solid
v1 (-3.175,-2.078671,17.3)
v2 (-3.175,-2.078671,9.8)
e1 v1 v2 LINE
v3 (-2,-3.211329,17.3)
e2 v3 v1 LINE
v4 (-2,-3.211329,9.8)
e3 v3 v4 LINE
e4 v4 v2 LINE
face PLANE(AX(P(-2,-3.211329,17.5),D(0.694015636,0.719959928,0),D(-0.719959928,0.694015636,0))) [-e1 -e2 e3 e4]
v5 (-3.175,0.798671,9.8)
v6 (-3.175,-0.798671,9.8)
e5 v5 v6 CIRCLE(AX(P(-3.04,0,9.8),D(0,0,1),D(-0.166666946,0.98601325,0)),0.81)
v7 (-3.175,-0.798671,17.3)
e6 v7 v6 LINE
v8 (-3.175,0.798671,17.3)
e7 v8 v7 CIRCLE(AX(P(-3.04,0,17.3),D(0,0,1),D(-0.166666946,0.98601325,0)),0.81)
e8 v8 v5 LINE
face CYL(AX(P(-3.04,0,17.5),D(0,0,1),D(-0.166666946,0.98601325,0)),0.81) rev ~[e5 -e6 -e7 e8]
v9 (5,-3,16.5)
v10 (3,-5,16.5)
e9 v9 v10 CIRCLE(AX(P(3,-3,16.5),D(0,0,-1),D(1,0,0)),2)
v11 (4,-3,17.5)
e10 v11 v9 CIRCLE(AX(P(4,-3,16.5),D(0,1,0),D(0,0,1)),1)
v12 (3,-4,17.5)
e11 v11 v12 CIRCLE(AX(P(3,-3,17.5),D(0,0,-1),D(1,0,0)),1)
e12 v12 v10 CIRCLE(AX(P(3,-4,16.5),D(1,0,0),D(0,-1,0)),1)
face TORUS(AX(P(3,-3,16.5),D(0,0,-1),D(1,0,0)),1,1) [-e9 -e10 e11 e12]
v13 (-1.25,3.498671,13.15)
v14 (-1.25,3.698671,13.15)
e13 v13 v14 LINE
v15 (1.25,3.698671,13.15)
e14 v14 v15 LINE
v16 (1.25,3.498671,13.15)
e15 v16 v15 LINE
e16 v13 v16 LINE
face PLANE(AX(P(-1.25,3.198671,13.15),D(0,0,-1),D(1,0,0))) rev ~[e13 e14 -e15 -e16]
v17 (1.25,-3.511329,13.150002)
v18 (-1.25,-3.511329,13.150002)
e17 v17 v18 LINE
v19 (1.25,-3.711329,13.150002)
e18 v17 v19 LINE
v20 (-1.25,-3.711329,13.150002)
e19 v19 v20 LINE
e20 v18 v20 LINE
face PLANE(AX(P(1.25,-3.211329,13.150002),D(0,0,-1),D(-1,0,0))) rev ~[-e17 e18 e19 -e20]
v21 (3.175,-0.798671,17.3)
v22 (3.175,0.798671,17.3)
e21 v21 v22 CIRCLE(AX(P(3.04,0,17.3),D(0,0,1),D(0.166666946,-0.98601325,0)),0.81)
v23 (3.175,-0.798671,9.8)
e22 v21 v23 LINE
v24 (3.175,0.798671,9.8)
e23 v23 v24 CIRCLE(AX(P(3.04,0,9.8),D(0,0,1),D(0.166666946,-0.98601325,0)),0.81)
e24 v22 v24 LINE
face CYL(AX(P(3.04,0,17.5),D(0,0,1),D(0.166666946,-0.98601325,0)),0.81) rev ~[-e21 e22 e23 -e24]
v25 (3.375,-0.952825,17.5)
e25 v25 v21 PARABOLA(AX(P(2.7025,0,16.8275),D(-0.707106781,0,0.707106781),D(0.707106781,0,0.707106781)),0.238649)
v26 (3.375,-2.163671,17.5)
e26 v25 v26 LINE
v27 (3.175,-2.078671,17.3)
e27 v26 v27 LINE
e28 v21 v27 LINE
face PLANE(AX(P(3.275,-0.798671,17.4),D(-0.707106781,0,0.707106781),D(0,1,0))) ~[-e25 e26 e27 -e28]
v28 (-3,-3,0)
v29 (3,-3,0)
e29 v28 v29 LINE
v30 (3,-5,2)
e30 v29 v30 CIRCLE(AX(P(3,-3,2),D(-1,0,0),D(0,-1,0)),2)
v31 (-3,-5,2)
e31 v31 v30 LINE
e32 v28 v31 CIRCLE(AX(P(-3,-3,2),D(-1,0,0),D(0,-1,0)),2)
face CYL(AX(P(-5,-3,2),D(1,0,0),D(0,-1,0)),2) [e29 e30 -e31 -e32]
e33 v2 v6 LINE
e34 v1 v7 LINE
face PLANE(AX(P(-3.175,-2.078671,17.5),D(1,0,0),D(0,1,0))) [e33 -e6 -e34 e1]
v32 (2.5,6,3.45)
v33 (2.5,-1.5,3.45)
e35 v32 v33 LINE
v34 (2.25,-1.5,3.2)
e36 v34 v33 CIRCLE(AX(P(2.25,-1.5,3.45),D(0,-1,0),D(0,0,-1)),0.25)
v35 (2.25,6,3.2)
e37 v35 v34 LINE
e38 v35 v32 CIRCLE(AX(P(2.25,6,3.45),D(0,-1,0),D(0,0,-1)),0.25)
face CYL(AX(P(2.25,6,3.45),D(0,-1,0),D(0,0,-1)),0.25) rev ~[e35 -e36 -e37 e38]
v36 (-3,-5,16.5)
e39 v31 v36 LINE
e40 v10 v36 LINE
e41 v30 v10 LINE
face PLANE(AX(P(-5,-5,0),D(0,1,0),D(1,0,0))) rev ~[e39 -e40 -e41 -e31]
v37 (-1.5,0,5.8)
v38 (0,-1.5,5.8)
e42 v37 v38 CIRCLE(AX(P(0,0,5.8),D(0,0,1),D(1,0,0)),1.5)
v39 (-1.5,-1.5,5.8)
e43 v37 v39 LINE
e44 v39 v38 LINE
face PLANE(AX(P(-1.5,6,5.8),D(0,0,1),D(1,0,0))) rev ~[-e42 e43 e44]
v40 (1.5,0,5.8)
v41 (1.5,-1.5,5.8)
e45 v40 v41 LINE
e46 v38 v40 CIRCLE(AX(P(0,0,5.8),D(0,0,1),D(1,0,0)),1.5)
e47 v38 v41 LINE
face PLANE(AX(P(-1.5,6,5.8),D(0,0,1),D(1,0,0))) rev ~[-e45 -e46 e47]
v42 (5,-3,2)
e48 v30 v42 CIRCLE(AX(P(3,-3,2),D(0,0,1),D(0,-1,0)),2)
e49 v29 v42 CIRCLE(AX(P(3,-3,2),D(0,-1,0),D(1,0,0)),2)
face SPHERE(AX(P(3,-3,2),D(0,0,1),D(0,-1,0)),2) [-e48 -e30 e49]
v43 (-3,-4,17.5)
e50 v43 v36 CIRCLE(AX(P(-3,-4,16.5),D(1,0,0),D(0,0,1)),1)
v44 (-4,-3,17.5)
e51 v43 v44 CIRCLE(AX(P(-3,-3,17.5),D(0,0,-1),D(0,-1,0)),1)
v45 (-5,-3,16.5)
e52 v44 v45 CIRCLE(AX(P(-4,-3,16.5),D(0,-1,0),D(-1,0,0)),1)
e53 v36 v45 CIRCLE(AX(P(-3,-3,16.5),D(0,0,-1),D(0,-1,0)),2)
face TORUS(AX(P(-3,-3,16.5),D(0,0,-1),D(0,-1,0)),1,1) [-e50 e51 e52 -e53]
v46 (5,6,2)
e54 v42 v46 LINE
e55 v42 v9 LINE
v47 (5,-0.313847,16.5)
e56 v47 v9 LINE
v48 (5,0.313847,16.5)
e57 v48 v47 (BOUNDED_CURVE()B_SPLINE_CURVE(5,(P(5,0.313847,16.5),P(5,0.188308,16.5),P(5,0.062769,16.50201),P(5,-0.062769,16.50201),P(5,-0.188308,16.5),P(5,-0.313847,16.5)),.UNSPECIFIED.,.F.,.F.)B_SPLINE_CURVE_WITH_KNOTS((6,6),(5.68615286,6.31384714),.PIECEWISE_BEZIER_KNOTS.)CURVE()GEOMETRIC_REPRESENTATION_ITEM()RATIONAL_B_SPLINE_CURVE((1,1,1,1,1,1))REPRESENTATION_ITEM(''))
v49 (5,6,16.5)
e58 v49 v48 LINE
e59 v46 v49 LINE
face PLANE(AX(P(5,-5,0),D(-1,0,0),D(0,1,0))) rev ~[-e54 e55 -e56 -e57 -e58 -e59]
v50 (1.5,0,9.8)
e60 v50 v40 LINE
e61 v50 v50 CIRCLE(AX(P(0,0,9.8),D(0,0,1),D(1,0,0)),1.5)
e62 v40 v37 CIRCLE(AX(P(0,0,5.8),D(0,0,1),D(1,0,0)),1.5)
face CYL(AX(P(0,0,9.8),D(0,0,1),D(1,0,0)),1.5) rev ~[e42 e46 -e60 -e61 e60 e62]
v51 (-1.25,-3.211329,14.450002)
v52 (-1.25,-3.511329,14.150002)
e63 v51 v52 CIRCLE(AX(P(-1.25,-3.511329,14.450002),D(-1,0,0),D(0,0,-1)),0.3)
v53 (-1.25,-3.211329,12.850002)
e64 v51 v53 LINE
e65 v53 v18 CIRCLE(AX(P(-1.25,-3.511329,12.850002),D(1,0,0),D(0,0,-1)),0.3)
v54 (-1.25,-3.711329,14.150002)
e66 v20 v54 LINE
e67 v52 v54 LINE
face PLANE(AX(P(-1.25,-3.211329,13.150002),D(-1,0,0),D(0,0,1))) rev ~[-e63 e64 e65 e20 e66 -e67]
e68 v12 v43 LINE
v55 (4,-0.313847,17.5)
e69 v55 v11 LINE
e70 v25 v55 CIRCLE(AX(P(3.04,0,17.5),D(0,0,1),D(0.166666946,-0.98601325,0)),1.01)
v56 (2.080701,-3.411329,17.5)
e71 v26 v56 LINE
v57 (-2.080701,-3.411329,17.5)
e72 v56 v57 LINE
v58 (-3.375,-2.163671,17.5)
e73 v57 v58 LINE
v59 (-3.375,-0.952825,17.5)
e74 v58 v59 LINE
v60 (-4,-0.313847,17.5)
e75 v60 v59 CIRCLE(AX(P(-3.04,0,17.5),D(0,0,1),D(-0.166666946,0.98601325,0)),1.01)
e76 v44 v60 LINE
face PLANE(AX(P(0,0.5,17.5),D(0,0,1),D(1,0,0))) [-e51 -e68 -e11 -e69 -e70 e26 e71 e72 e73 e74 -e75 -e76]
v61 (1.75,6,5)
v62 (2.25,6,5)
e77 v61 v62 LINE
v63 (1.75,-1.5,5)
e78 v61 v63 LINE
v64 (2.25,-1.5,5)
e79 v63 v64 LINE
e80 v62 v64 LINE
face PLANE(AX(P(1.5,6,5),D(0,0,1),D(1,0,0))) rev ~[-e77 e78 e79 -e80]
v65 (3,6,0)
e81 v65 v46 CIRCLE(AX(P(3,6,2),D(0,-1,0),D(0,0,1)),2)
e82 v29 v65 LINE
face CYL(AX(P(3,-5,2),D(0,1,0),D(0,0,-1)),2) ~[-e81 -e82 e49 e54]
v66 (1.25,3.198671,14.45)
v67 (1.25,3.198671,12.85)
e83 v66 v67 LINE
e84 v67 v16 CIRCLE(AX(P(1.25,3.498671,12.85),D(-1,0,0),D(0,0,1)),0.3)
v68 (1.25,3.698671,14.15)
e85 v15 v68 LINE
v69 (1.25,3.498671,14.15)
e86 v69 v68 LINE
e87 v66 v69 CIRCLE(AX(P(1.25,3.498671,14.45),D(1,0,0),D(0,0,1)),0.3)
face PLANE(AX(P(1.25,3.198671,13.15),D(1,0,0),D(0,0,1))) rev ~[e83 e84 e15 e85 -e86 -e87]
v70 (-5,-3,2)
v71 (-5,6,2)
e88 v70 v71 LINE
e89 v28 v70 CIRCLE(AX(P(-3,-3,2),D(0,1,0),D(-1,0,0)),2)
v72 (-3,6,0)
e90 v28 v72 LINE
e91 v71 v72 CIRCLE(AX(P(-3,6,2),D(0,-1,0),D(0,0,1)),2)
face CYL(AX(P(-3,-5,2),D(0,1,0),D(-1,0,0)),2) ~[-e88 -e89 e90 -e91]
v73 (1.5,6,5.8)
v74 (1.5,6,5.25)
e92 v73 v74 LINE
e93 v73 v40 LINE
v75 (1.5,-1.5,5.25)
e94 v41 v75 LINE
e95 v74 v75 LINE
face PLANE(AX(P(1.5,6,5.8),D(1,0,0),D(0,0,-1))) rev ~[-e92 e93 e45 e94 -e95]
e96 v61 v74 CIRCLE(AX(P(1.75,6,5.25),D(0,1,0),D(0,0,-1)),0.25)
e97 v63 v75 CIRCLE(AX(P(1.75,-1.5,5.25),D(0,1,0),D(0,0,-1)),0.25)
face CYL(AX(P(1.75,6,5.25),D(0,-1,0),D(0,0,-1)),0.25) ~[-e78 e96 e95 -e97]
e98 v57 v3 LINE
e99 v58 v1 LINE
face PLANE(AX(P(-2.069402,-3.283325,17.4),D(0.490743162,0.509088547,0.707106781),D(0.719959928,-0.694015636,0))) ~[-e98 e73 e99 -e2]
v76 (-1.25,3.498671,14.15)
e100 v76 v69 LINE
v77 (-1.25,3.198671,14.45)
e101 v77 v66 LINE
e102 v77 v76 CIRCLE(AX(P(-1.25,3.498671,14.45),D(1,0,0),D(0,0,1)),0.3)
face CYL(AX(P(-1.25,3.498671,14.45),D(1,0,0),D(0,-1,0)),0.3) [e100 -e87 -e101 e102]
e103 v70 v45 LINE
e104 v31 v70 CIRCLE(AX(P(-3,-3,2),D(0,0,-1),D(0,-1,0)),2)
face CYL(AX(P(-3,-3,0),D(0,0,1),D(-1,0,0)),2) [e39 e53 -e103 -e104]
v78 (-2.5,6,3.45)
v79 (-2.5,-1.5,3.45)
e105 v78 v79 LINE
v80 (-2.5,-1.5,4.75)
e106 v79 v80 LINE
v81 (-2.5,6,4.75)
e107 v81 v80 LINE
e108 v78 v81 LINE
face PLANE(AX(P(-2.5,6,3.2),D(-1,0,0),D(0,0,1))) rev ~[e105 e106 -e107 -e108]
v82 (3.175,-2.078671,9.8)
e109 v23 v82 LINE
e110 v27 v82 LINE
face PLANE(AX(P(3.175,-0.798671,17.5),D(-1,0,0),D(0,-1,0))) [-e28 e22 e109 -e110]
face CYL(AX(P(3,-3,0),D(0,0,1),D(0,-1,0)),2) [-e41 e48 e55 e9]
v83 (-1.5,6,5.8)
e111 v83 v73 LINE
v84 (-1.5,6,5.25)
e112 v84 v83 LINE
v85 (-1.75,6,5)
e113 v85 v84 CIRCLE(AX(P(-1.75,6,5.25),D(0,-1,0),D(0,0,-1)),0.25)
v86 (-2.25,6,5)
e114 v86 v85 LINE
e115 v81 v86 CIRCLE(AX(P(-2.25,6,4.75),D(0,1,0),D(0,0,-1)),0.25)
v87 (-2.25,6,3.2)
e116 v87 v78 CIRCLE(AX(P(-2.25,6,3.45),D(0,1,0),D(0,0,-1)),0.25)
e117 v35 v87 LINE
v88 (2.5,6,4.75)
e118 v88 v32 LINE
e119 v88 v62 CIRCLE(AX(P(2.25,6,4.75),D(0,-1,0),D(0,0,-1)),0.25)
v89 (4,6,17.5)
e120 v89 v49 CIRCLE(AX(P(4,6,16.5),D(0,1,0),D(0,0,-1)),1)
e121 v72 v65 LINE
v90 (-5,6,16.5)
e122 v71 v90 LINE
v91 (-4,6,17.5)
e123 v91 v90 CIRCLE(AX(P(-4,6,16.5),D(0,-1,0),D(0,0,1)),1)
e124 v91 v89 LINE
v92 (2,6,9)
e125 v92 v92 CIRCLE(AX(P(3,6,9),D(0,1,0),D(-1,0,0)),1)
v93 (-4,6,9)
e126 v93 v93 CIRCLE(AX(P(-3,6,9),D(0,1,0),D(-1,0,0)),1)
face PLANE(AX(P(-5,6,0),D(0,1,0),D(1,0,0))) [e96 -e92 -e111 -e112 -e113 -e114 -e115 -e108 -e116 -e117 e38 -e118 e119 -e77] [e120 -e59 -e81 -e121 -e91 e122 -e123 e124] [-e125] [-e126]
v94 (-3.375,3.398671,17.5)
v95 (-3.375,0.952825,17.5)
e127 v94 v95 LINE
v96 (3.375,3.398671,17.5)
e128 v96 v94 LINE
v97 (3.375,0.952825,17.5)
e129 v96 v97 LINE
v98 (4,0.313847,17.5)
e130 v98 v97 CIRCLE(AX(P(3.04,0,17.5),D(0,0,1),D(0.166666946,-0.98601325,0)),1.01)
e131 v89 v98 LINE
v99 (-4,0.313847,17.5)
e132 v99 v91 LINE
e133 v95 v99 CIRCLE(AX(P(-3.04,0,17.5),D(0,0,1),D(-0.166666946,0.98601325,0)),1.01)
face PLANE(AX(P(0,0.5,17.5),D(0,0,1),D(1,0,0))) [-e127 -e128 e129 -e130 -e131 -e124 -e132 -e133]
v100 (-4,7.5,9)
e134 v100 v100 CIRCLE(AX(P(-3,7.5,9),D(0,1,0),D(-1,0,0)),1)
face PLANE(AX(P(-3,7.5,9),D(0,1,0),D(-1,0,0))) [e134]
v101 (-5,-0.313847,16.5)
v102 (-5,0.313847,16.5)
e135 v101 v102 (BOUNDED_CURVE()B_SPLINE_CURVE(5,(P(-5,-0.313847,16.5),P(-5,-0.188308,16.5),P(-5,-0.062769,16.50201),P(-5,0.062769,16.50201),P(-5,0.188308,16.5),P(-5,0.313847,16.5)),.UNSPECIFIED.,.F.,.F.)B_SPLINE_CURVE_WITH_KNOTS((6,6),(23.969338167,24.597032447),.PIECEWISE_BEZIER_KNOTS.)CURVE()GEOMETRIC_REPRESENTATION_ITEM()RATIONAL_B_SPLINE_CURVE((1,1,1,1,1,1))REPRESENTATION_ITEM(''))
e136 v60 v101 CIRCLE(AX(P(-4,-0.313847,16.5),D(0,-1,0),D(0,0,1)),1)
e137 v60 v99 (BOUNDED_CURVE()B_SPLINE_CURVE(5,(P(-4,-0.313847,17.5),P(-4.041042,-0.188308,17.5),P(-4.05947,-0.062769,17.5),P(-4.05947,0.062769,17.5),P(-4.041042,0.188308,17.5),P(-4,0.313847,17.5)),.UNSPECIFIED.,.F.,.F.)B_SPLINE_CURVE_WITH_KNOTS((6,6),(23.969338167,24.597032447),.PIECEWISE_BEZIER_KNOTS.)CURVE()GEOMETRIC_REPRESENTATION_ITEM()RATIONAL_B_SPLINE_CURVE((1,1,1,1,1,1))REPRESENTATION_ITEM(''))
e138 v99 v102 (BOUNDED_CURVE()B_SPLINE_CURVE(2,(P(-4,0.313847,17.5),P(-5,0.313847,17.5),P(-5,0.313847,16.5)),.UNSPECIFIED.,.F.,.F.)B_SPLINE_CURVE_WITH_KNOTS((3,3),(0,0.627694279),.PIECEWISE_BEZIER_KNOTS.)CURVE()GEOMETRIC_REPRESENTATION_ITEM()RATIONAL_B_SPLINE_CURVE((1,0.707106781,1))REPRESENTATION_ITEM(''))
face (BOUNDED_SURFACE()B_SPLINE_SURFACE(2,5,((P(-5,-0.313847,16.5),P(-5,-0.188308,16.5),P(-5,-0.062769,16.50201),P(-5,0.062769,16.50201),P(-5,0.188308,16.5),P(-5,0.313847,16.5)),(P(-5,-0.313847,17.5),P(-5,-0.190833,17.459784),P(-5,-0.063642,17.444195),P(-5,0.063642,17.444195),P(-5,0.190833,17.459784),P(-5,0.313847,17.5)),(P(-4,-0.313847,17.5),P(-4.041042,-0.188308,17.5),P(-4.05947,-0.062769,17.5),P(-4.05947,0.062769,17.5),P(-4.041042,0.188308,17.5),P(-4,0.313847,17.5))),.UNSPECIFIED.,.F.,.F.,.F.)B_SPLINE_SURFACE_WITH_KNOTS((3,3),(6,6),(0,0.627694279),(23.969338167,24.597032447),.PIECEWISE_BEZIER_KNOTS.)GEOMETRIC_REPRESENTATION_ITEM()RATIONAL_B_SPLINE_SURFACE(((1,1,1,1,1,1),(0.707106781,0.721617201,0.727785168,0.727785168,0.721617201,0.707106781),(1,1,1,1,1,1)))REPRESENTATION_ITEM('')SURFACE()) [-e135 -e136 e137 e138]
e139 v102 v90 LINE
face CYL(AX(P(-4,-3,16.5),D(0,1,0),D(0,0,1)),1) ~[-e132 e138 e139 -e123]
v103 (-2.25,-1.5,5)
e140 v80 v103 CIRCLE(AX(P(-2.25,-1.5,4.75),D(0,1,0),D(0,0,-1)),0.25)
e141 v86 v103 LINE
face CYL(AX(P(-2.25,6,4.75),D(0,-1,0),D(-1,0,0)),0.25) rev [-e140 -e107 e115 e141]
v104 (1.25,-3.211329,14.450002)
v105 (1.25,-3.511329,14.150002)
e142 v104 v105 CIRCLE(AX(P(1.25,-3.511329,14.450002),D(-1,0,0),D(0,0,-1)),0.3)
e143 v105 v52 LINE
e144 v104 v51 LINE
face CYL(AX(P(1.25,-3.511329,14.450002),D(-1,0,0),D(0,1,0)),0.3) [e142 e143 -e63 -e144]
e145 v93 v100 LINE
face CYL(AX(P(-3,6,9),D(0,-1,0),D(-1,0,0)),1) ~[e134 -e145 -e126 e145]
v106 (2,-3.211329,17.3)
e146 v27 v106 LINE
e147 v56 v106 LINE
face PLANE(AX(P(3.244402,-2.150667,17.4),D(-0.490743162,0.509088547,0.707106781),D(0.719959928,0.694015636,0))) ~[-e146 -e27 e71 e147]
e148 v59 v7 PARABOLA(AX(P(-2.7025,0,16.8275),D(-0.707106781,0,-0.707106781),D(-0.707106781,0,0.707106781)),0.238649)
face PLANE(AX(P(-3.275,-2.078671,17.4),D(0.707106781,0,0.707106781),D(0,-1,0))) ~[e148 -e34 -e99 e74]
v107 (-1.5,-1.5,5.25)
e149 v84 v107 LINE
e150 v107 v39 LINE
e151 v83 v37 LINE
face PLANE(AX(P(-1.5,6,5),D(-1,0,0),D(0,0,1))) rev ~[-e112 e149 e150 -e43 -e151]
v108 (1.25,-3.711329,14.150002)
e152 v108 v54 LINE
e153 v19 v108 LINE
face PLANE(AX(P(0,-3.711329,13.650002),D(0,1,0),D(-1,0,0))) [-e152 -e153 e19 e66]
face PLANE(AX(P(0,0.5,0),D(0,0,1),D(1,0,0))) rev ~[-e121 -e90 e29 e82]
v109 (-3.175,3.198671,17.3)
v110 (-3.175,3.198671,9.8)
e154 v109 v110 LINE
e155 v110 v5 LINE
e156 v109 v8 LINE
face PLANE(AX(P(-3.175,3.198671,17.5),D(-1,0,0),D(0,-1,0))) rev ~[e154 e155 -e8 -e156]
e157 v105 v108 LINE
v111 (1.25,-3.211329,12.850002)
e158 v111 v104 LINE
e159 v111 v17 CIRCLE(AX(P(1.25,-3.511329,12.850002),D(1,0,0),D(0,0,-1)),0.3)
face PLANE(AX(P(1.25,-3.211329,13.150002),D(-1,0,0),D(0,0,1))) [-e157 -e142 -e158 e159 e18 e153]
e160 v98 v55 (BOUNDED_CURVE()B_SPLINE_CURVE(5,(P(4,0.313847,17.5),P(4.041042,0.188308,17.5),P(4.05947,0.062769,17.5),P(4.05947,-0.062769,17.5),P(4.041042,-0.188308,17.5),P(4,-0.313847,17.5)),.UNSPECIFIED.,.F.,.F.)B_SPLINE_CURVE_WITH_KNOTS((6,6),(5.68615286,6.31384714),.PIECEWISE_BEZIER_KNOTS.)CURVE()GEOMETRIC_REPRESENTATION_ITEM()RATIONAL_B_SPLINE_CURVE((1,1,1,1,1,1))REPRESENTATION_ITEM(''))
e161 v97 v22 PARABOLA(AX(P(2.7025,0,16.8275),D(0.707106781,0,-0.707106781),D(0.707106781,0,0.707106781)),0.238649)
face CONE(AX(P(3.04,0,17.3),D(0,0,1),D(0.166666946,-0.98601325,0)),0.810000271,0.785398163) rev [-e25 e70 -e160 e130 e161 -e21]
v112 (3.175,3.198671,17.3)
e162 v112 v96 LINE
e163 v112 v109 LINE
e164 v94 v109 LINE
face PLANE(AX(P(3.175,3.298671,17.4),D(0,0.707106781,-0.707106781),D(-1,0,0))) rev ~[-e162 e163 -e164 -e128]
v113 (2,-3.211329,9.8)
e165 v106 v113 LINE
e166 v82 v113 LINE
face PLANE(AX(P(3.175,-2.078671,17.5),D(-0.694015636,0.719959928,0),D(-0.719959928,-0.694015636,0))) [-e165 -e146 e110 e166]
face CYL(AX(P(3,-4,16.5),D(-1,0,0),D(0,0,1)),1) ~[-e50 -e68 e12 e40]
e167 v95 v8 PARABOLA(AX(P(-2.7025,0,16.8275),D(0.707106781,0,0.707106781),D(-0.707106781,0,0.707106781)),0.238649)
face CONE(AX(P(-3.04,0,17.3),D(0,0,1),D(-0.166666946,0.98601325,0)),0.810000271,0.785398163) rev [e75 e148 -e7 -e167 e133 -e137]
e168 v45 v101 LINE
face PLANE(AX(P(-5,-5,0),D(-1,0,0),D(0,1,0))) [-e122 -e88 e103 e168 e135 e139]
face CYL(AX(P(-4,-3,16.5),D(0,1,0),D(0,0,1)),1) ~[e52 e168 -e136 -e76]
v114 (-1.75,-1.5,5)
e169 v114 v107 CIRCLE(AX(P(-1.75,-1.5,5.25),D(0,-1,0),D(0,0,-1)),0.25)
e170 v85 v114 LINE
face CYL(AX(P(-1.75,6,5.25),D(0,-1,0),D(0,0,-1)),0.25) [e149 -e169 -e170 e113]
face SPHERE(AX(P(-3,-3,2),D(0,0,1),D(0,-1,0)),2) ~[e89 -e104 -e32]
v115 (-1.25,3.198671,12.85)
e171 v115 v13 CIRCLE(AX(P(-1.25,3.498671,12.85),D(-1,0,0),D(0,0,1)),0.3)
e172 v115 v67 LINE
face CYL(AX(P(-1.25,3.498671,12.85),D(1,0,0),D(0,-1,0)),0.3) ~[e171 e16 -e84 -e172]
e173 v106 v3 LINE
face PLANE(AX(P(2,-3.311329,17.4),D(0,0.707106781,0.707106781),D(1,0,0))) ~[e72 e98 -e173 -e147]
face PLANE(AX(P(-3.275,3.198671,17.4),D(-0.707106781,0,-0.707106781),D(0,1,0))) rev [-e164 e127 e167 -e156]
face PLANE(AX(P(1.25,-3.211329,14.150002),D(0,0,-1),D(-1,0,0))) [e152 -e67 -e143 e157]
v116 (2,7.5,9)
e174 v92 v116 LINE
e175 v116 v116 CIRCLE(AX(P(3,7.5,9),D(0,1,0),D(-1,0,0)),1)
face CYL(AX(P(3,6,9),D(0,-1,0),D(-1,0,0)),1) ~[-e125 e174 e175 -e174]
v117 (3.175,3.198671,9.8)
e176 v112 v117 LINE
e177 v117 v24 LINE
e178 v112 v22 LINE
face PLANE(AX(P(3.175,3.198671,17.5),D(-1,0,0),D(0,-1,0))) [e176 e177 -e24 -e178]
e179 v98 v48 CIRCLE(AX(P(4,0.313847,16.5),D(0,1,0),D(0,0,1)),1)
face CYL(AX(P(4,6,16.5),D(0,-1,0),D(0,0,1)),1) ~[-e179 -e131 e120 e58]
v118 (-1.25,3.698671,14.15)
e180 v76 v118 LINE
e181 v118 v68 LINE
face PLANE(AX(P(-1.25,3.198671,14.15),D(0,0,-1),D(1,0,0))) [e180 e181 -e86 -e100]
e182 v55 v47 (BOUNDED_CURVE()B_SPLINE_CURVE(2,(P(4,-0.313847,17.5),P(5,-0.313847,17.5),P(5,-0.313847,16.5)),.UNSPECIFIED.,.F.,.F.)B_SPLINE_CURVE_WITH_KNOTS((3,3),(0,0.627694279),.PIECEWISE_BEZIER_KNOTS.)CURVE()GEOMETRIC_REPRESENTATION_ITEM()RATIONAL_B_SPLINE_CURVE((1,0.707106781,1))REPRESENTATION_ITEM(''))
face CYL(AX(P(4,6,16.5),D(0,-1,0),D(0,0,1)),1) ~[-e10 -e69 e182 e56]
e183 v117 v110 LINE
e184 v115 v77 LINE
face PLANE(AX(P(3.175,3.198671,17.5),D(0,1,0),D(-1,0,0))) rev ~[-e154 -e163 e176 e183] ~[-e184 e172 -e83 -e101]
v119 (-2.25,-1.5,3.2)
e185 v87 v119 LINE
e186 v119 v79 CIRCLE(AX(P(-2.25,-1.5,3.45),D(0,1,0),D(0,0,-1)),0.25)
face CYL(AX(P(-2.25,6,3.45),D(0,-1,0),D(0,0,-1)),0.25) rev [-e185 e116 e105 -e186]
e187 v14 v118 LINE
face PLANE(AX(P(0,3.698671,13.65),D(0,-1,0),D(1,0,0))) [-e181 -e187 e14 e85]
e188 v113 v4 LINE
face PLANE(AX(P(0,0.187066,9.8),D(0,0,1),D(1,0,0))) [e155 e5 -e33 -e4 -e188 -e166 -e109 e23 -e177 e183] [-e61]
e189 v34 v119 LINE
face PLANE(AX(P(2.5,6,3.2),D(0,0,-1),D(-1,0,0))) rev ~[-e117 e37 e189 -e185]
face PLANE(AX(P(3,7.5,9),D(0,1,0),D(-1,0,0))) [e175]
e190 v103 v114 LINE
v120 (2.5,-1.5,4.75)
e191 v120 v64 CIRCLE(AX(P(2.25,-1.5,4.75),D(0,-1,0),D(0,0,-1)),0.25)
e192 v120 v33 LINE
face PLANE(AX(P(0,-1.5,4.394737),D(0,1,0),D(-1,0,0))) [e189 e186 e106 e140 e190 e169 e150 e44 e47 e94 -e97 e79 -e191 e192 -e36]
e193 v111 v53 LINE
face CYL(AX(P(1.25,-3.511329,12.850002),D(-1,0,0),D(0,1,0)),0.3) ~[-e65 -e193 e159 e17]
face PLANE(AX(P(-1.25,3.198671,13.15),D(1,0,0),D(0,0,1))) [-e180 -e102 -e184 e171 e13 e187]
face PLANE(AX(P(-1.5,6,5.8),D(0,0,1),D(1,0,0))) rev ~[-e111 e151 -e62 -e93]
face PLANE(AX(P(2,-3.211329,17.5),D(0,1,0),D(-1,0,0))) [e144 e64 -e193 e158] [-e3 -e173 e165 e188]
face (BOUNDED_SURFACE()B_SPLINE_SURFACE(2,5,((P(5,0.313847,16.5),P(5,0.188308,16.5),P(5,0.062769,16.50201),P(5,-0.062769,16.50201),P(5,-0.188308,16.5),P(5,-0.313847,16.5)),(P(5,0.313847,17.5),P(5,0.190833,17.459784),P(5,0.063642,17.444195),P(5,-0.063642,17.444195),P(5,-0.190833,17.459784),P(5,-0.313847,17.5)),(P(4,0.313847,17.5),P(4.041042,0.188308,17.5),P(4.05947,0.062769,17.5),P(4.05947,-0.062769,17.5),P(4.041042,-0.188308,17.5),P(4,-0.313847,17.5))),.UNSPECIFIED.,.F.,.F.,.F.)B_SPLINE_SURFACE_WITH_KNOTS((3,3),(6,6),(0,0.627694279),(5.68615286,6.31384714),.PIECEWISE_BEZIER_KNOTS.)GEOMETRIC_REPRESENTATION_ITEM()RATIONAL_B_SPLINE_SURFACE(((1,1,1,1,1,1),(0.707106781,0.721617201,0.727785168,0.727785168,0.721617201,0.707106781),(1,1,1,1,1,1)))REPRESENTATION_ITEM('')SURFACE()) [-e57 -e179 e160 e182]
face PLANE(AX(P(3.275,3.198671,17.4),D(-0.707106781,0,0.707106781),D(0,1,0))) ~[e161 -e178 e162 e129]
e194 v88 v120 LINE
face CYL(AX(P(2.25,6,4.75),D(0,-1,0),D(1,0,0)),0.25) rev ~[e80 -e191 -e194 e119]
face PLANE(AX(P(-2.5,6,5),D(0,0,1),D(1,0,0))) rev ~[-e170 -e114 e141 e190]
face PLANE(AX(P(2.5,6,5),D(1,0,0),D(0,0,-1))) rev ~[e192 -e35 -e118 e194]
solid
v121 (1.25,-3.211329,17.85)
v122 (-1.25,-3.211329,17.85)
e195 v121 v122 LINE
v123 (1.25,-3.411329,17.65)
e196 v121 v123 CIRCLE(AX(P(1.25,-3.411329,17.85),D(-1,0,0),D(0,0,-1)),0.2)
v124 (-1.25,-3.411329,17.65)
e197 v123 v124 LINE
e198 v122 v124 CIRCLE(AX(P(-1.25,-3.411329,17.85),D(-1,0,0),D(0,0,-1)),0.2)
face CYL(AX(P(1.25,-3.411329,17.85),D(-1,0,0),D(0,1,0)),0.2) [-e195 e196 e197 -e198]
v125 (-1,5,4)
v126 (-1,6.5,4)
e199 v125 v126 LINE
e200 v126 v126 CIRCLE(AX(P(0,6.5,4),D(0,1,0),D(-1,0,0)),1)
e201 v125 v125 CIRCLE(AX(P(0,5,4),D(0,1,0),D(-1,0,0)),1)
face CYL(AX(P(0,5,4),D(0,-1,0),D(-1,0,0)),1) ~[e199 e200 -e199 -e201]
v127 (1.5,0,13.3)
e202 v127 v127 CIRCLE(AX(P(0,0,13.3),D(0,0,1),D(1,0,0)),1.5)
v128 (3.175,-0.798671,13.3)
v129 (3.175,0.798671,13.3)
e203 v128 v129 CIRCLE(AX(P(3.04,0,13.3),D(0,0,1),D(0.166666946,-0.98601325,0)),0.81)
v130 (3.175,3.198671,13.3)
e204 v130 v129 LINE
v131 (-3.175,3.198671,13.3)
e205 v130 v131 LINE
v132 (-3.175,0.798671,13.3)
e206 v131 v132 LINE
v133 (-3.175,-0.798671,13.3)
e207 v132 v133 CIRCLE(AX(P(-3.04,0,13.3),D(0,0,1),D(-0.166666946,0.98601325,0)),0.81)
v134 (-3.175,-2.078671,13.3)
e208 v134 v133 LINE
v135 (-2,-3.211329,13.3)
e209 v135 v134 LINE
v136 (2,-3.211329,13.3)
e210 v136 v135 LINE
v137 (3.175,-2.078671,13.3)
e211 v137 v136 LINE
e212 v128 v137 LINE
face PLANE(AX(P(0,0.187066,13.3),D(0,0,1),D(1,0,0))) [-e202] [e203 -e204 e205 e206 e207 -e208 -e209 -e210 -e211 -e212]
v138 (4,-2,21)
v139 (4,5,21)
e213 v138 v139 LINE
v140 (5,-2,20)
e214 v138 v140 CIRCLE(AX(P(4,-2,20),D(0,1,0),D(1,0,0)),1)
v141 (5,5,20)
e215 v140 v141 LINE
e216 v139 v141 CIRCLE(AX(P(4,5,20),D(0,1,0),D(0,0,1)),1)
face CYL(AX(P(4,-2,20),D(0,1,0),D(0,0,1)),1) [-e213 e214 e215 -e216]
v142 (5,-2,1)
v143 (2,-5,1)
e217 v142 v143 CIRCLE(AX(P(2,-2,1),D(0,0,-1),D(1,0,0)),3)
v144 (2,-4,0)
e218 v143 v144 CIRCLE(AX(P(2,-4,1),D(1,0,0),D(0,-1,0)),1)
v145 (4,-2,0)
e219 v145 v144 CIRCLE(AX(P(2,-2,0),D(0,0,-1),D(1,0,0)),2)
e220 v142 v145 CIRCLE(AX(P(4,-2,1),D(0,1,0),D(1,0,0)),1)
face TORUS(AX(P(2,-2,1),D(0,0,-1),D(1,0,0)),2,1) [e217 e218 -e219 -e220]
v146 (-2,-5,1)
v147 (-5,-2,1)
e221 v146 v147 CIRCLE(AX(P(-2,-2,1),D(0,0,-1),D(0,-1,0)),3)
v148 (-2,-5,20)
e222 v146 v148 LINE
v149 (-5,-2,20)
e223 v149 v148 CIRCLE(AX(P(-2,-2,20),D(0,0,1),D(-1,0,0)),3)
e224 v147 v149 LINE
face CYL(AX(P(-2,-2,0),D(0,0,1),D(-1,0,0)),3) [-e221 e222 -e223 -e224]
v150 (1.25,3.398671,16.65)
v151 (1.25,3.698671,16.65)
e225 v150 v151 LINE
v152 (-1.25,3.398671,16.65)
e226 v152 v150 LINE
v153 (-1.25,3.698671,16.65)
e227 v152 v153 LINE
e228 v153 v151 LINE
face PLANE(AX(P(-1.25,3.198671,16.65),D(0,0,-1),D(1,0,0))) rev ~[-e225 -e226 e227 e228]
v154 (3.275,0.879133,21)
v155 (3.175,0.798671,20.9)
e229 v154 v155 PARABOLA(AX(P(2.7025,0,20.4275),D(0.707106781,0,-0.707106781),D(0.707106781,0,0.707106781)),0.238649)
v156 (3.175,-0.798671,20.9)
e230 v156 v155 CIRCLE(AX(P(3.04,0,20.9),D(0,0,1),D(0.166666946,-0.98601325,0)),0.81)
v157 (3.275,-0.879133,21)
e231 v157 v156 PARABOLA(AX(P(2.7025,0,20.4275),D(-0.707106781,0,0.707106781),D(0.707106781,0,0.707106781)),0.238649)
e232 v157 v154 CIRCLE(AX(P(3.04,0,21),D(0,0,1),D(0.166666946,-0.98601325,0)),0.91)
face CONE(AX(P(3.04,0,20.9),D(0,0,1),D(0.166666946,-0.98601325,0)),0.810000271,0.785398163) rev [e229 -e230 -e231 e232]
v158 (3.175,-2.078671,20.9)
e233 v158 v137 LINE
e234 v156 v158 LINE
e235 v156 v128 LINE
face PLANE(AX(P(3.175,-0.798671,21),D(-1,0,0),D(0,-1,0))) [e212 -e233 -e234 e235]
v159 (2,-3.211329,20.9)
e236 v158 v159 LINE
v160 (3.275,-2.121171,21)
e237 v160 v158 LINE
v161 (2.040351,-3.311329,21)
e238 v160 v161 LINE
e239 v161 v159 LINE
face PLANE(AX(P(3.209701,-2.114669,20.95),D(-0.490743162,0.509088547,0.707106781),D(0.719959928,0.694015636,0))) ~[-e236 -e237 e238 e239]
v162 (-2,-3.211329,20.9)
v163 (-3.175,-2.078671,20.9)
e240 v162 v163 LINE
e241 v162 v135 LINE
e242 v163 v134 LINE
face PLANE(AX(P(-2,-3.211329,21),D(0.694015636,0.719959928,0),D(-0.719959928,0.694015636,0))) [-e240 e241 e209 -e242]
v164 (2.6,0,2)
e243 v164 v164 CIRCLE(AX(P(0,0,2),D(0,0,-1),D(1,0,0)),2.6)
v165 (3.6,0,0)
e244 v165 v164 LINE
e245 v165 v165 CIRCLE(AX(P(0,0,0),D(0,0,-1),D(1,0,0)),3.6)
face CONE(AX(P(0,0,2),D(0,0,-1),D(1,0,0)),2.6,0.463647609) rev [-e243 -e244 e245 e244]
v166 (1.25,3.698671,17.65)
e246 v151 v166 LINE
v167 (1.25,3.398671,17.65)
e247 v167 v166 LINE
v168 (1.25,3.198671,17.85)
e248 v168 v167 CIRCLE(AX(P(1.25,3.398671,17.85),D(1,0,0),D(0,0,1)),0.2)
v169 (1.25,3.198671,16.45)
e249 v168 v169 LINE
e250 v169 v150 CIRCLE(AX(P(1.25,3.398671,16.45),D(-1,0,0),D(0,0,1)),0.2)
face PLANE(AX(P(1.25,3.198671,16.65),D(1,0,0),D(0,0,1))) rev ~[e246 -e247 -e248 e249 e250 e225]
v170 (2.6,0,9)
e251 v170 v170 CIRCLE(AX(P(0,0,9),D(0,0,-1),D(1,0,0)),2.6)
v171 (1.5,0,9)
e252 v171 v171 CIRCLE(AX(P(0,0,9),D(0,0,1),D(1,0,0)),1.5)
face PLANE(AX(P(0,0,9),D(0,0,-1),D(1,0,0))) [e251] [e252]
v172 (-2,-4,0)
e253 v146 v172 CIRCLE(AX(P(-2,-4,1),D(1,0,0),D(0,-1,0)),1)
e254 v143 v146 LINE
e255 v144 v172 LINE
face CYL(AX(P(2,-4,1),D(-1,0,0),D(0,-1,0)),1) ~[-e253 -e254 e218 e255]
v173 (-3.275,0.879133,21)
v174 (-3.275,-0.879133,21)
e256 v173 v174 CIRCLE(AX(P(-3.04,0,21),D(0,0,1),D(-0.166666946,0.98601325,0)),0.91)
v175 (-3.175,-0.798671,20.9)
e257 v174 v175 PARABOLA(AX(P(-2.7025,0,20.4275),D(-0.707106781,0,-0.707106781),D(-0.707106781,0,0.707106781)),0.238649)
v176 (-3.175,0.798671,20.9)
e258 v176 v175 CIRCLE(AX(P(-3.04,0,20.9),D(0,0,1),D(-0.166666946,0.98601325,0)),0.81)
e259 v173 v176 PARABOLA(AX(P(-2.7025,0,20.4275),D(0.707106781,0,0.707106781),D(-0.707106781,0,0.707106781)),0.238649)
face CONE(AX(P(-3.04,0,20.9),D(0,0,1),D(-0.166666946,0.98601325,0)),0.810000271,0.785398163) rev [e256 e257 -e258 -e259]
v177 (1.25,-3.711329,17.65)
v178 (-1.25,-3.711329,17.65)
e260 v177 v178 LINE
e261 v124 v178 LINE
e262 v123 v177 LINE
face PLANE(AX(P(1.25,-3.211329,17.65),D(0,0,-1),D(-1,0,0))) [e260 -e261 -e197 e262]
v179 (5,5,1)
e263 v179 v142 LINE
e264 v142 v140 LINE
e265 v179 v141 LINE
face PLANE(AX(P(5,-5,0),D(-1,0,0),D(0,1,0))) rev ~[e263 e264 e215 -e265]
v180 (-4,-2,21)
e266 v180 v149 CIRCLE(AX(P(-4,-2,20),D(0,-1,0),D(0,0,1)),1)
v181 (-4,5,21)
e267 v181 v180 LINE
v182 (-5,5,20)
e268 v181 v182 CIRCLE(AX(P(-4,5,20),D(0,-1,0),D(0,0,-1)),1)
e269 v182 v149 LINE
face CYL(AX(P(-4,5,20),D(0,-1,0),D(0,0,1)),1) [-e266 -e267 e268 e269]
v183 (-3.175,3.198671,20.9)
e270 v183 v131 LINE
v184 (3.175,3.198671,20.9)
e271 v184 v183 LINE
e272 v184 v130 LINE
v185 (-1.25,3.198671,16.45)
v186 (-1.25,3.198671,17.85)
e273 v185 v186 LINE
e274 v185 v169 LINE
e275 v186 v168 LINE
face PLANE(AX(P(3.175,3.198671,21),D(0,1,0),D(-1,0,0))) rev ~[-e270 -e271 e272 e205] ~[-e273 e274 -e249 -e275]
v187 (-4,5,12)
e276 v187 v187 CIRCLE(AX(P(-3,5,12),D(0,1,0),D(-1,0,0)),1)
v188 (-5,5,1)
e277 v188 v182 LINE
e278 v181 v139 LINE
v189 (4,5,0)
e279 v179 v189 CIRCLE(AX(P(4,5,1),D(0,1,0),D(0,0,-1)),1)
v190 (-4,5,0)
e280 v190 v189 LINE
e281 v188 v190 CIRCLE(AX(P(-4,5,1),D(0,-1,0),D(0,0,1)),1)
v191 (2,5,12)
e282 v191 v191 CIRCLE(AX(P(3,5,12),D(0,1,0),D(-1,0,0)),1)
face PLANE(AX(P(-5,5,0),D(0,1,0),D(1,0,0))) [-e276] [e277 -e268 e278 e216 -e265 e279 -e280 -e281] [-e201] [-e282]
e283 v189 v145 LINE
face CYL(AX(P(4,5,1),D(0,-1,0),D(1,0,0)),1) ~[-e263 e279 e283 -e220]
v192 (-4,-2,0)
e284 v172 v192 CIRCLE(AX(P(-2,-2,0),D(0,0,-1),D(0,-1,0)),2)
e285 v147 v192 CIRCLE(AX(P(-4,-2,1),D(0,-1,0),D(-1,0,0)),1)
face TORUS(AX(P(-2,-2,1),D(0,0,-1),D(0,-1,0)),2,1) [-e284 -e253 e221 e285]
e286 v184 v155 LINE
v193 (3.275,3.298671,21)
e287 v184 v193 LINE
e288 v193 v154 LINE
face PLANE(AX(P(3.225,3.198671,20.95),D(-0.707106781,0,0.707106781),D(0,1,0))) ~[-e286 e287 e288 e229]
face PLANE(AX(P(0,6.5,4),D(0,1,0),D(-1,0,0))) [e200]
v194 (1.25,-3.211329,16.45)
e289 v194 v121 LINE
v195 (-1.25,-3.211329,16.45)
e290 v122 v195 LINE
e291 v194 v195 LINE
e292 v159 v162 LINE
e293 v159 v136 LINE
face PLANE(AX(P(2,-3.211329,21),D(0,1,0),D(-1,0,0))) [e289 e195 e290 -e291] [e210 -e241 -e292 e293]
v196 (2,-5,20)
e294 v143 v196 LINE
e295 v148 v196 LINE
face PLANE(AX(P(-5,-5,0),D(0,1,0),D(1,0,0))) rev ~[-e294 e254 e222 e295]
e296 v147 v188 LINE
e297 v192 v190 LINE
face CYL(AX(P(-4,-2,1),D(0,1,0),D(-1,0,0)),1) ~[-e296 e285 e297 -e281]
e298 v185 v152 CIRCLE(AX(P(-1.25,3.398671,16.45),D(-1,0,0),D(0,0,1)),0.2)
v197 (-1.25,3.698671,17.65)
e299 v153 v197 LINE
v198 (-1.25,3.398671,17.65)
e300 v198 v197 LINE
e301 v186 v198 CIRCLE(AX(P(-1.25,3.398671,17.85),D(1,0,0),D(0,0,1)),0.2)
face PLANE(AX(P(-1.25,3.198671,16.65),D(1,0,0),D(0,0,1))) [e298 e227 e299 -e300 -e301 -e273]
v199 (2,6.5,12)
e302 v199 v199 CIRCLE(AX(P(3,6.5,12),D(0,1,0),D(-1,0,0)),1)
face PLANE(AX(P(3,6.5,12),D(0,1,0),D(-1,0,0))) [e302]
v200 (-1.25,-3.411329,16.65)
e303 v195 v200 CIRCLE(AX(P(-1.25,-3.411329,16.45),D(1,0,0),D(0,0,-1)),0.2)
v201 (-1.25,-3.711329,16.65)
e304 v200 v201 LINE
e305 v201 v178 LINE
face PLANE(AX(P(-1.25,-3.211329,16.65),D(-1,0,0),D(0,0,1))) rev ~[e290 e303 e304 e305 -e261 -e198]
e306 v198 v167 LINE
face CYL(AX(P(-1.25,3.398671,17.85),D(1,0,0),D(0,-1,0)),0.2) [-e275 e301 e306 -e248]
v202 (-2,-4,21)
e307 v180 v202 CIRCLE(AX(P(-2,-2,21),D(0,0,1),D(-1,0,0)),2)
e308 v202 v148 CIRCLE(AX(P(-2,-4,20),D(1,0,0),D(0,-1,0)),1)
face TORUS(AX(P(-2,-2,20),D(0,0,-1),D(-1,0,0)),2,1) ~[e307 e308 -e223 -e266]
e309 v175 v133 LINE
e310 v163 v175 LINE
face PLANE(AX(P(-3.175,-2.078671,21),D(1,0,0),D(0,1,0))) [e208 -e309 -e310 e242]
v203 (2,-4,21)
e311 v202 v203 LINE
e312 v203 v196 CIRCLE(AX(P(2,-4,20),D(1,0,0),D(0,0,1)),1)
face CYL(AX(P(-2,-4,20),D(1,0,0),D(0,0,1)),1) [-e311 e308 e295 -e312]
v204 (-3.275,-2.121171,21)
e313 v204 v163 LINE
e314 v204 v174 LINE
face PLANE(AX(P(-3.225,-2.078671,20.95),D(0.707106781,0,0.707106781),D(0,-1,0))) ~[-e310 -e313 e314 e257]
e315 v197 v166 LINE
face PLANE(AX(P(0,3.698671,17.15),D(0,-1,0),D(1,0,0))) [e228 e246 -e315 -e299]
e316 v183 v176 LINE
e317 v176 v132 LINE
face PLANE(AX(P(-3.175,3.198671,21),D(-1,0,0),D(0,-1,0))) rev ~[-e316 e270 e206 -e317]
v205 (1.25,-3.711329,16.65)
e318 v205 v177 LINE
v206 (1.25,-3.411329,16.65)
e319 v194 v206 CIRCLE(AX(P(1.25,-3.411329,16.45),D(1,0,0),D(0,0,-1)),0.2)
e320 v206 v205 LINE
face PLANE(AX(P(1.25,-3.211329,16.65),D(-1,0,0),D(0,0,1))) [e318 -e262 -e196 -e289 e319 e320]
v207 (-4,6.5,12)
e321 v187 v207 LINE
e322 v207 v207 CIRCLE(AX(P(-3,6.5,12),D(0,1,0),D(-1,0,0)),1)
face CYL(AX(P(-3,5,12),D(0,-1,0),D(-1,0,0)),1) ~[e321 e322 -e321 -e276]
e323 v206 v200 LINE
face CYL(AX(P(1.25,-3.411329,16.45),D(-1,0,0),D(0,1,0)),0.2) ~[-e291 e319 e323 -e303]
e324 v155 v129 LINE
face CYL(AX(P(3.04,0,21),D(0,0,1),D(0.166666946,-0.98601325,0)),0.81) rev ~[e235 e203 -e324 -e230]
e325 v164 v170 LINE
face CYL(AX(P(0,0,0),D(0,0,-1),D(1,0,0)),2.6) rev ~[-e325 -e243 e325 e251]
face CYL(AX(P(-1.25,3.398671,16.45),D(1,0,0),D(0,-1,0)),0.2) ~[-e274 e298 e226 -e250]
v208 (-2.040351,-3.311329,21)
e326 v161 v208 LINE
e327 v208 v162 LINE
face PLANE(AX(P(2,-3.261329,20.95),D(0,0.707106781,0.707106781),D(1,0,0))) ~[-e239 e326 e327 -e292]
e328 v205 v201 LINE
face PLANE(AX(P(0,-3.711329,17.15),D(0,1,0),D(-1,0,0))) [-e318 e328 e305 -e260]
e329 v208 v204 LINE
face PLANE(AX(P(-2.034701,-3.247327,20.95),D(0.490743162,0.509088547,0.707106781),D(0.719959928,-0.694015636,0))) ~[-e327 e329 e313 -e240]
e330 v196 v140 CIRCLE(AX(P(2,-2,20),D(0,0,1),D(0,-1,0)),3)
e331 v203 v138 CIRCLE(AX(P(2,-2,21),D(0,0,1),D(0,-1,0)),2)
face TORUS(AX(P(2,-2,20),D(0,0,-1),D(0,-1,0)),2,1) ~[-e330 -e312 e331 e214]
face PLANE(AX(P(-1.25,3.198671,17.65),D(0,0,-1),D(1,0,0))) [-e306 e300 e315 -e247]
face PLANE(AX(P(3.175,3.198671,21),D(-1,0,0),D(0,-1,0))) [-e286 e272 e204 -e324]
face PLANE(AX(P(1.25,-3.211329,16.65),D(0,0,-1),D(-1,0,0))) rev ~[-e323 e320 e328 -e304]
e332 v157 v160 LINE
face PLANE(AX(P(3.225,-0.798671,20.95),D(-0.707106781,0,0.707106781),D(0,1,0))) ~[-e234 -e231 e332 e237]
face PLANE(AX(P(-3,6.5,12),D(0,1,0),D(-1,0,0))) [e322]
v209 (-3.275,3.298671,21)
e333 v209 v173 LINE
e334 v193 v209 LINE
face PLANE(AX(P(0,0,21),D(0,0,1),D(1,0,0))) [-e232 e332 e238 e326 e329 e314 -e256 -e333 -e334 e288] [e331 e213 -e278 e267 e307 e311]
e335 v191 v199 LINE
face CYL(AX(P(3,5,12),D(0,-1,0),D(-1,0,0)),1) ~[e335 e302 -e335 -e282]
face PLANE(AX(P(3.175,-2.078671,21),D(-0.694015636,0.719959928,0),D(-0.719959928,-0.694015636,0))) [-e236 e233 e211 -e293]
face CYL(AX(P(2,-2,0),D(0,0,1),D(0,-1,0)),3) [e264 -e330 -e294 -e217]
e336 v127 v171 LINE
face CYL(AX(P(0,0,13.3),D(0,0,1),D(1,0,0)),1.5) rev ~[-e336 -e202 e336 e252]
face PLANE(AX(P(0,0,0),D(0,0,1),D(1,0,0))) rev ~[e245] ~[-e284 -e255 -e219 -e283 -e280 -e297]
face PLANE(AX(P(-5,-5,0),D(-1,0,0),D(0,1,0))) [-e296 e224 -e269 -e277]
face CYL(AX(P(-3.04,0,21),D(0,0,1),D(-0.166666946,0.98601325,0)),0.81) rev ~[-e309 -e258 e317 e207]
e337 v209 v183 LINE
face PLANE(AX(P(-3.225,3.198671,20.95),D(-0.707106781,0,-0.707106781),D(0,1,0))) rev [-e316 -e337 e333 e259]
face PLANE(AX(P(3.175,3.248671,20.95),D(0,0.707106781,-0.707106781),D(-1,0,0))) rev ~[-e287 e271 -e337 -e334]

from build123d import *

# Parameters (mm, degrees)
SKETCH001_W     = 10
SKETCH001_H     = 11
PAD_DEPTH       = 17.5
POCKET_DEPTH    = 7.7
SKETCH003_R     = 1.5
POCKET001_DEPTH = 4
POCKET002_DEPTH = 7.5
SKETCH005_R     = 1
PAD001_DEPTH    = 1.5
FILLET_R        = 2
SKETCH016_W     = 2.5
SKETCH016_H     = 1
POCKET008_DEPTH = 0.5
SKETCH017_W     = 2.5
SKETCH017_H     = 1
POCKET009_DEPTH = 0.5
FILLET004_R     = 0.3
CHAMFER003_SIZE = 0.2
FILLET005_R     = 1
FILLET006_R     = 0.25
SKETCH006_W     = 10
SKETCH006_H     = 10
PAD002_DEPTH    = 21
POCKET003_DEPTH = 7.7
SKETCH008_R     = 1.5
POCKET004_DEPTH = 5
SKETCH010_R     = 1
PAD003_DEPTH    = 1.5
SKETCH_R        = 2.6
POCKET005_DEPTH = 9
FILLET001_R     = 3
CHAMFER_SIZE2   = 2
CHAMFER_SIZE    = 1
SKETCH013_W     = 2.5
SKETCH013_H     = 1
POCKET006_DEPTH = 0.5
SKETCH015_W     = 2.5
SKETCH015_H     = 1
POCKET007_DEPTH = 0.5
FILLET002_R     = 0.2
CHAMFER002_SIZE = 0.1
FILLET003_R     = 1


with BuildPart() as receiver:
    # Sketch001 → Pad (new body)
    with BuildSketch(Plane.XY):
        with Locations((0, 0.5)):
            Rectangle(SKETCH001_W, SKETCH001_H)
    extrude(amount=PAD_DEPTH)

    # Sketch002 (on Face6 of Pad) → Pocket (cut)
    with BuildSketch(Plane.XY.offset(17.5)):
        with BuildLine():
            Line((3.175, 3.198671), (-3.175, 3.198671))
            Line((-3.175, 3.198671), (-3.175, 0.798671))
            ThreePointArc((-3.175, 0.798671), (-3.85, 0), (-3.175, -0.798671))
            Line((-3.175, -2.078671), (-3.175, -0.798671))
            Line((-2, -3.211329), (-3.175, -2.078671))
            Line((2, -3.211329), (-2, -3.211329))
            Line((3.175, -2.078671), (2, -3.211329))
            Line((3.175, -0.798671), (3.175, -2.078671))
            ThreePointArc((3.175, -0.798671), (3.85, 0), (3.175, 0.798671))
            Line((3.175, 3.198671), (3.175, 0.798671))
        make_face()
    extrude(amount=-POCKET_DEPTH, mode=Mode.SUBTRACT)

    # Sketch003 (on Face17 of Pocket) → Pocket001 (cut)
    with BuildSketch(Plane.XY.offset(9.8)):
        Circle(SKETCH003_R)
    extrude(amount=-POCKET001_DEPTH, mode=Mode.SUBTRACT)

    # Sketch004 (on Face2 of Pocket001) → Pocket002 (cut)
    with BuildSketch(Plane(origin=(0, 6, 0), x_dir=(-1, 0, 0), z_dir=(0, 1, 0))):
        Polygon((-2.5, 3.2), (2.5, 3.2), (2.5, 5), (1.5, 5), (1.5, 5.8), (-1.5, 5.8), (-1.5, 5), (-2.5, 5), align=None)
    extrude(amount=-POCKET002_DEPTH, mode=Mode.SUBTRACT)

    # Sketch005 (on Face2 of Pocket002) → Pad001 (join)
    with BuildSketch(Plane(origin=(0, 6, 0), x_dir=(-1, 0, 0), z_dir=(0, 1, 0))):
        with Locations((-3, 9)):
            Circle(SKETCH005_R)
        with Locations((3, 9)):
            Circle(SKETCH005_R)
    extrude(amount=PAD001_DEPTH)

    # Fillet
    fillet_edges = [receiver.edges().sort_by_distance(p)[0] for p in [
        (-5, -5, 8.75),
        (5, -5, 8.75),
        (0, -5, 0),
        (-5, 0.5, 0),
        (5, 0.5, 0),
    ]]
    fillet(fillet_edges, radius=FILLET_R)

    # Sketch016 → Pocket008 (cut)
    with BuildSketch(Plane.XZ.offset(-3.198671)):
        with Locations((0, 13.65)):
            Rectangle(SKETCH016_W, SKETCH016_H)
    extrude(amount=-POCKET008_DEPTH, mode=Mode.SUBTRACT)

    # Sketch017 (on Face29 of Pocket008) → Pocket009 (cut)
    with BuildSketch(Plane(origin=(0, -3.211329, 0), x_dir=(-1, 0, 0), z_dir=(0, 1, 0))):
        with Locations((0, 13.650002)):
            Rectangle(SKETCH017_W, SKETCH017_H)
    extrude(amount=-POCKET009_DEPTH, mode=Mode.SUBTRACT)

    # Fillet004
    fillet004_edges = [receiver.edges().sort_by_distance(p)[0] for p in [
        (0, -3.211329, 14.15),
        (0, -3.211329, 13.15),
        (0, 3.198671, 13.15),
        (0, 3.198671, 14.15),
    ]]
    fillet(fillet004_edges, radius=FILLET004_R)

    # Chamfer003
    chamfer003_edges = [receiver.edges().sort_by_distance(p)[0] for p in [
        (2.5875, -2.645, 17.5),
        (0, -3.211329, 17.5),
        (-2.5875, -2.645, 17.5),
        (-3.175, -1.438671, 17.5),
        (-3.85, 0, 17.5),
        (-3.175, 1.998671, 17.5),
        (0, 3.198671, 17.5),
        (3.175, 1.998671, 17.5),
        (3.85, 0, 17.5),
        (3.175, -1.438671, 17.5),
    ]]
    chamfer(chamfer003_edges, length=CHAMFER003_SIZE)

    # Fillet005
    fillet005_edges = [receiver.edges().sort_by_distance(p)[0] for p in [
        (-5, 1.5, 17.5),
        (-4.414214, -4.414214, 17.5),
        (0, -5, 17.5),
        (4.414214, -4.414214, 17.5),
        (5, 1.5, 17.5),
    ]]
    fillet(fillet005_edges, radius=FILLET005_R)

    # Fillet006
    fillet006_edges = [receiver.edges().sort_by_distance(p)[0] for p in [
        (1.5, 2.25, 5),
        (2.5, 2.25, 5),
        (2.5, 2.25, 3.2),
        (-2.5, 2.25, 3.2),
        (-2.5, 2.25, 5),
        (-1.5, 2.25, 5),
    ]]
    fillet(fillet006_edges, radius=FILLET006_R)


with BuildPart() as transmitter:
    # Sketch006 → Pad002 (new body)
    with BuildSketch(Plane.XY):
        Rectangle(SKETCH006_W, SKETCH006_H)
    extrude(amount=PAD002_DEPTH)

    # Sketch007 (on Face6 of Pad002) → Pocket003 (cut)
    with BuildSketch(Plane.XY.offset(21)):
        with BuildLine():
            Line((3.175, 3.198671), (-3.175, 3.198671))
            Line((-3.175, 3.198671), (-3.175, 0.798671))
            ThreePointArc((-3.175, 0.798671), (-3.85, 0), (-3.175, -0.798671))
            Line((-3.175, -2.078671), (-3.175, -0.798671))
            Line((-2, -3.211329), (-3.175, -2.078671))
            Line((2, -3.211329), (-2, -3.211329))
            Line((3.175, -2.078671), (2, -3.211329))
            Line((3.175, -0.798671), (3.175, -2.078671))
            ThreePointArc((3.175, -0.798671), (3.85, 0), (3.175, 0.798671))
            Line((3.175, 3.198671), (3.175, 0.798671))
        make_face()
    extrude(amount=-POCKET003_DEPTH, mode=Mode.SUBTRACT)

    # Sketch008 (on Face17 of Pocket003) → Pocket004 (cut)
    with BuildSketch(Plane.XY.offset(13.3)):
        Circle(SKETCH008_R)
    extrude(amount=-POCKET004_DEPTH, mode=Mode.SUBTRACT)

    # Sketch010 → Pad003 (join)
    with BuildSketch(Plane(origin=(0, 5, 0), x_dir=(-1, 0, 0), z_dir=(0, 1, 0))):
        with Locations((-3, 12)):
            Circle(SKETCH010_R)
        with Locations((3, 12)):
            Circle(SKETCH010_R)
        with Locations((0, 4)):
            Circle(SKETCH010_R)
    extrude(amount=PAD003_DEPTH)

    # Sketch (on Face4 of Pad003) → Pocket005 (cut)
    with BuildSketch(Plane(origin=(0, 0, 0), x_dir=(1, 0, 0), z_dir=(0, 0, -1))):
        Circle(SKETCH_R)
    extrude(amount=-POCKET005_DEPTH, mode=Mode.SUBTRACT)

    # Fillet001
    fillet001_edges = [transmitter.edges().sort_by_distance(p)[0] for p in [
        (-5, -5, 10.5),
        (5, -5, 10.5),
    ]]
    fillet(fillet001_edges, radius=FILLET001_R)

    # Chamfer
    chamfer_edges = [transmitter.edges().sort_by_distance(p)[0] for p in [
        (-2.6, 0, 0),
    ]]
    chamfer_side = transmitter.faces().sort_by_distance((-4.858579, 1.5, 0))[0]
    chamfer(chamfer_edges, length=CHAMFER_SIZE, length2=CHAMFER_SIZE2, reference=chamfer_side)

    # Sketch013 (on Face17 of Chamfer) → Pocket006 (cut)
    with BuildSketch(Plane.XZ.offset(-3.198671)):
        with Locations((0, 17.15)):
            Rectangle(SKETCH013_W, SKETCH013_H)
    extrude(amount=-POCKET006_DEPTH, mode=Mode.SUBTRACT)

    # Sketch015 (on Face22 of Pocket006) → Pocket007 (cut)
    with BuildSketch(Plane(origin=(0, -3.211329, 0), x_dir=(-1, 0, 0), z_dir=(0, 1, 0))):
        with Locations((0, 17.15)):
            Rectangle(SKETCH015_W, SKETCH015_H)
    extrude(amount=-POCKET007_DEPTH, mode=Mode.SUBTRACT)

    # Fillet002
    fillet002_edges = [transmitter.edges().sort_by_distance(p)[0] for p in [
        (0, 3.198671, 16.65),
        (0, 3.198671, 17.65),
        (0, -3.211329, 16.65),
        (0, -3.211329, 17.65),
    ]]
    fillet(fillet002_edges, radius=FILLET002_R)

    # Chamfer002
    chamfer002_edges = [transmitter.edges().sort_by_distance(p)[0] for p in [
        (2.5875, -2.645, 21),
        (0, -3.211329, 21),
        (-2.5875, -2.645, 21),
        (-3.175, -1.438671, 21),
        (-3.85, 0, 21),
        (-3.175, 1.998671, 21),
        (0, 3.198671, 21),
        (3.175, 1.998671, 21),
        (3.85, 0, 21),
        (3.175, -1.438671, 21),
    ]]
    chamfer(chamfer002_edges, length=CHAMFER002_SIZE)

    # Fillet003
    fillet003_edges = [transmitter.edges().sort_by_distance(p)[0] for p in [
        (4.12132, -4.12132, 21),
        (-4.12132, -4.12132, 21),
        (0, -5, 21),
        (-5, 1.5, 21),
        (5, 1.5, 21),
        (-5, 1.5, 0),
        (-4.12132, -4.12132, 0),
        (0, -5, 0),
        (4.12132, -4.12132, 0),
        (5, 1.5, 0),
    ]]
    fillet(fillet003_edges, radius=FILLET003_R)


solid = Compound([receiver.part, transmitter.part])
